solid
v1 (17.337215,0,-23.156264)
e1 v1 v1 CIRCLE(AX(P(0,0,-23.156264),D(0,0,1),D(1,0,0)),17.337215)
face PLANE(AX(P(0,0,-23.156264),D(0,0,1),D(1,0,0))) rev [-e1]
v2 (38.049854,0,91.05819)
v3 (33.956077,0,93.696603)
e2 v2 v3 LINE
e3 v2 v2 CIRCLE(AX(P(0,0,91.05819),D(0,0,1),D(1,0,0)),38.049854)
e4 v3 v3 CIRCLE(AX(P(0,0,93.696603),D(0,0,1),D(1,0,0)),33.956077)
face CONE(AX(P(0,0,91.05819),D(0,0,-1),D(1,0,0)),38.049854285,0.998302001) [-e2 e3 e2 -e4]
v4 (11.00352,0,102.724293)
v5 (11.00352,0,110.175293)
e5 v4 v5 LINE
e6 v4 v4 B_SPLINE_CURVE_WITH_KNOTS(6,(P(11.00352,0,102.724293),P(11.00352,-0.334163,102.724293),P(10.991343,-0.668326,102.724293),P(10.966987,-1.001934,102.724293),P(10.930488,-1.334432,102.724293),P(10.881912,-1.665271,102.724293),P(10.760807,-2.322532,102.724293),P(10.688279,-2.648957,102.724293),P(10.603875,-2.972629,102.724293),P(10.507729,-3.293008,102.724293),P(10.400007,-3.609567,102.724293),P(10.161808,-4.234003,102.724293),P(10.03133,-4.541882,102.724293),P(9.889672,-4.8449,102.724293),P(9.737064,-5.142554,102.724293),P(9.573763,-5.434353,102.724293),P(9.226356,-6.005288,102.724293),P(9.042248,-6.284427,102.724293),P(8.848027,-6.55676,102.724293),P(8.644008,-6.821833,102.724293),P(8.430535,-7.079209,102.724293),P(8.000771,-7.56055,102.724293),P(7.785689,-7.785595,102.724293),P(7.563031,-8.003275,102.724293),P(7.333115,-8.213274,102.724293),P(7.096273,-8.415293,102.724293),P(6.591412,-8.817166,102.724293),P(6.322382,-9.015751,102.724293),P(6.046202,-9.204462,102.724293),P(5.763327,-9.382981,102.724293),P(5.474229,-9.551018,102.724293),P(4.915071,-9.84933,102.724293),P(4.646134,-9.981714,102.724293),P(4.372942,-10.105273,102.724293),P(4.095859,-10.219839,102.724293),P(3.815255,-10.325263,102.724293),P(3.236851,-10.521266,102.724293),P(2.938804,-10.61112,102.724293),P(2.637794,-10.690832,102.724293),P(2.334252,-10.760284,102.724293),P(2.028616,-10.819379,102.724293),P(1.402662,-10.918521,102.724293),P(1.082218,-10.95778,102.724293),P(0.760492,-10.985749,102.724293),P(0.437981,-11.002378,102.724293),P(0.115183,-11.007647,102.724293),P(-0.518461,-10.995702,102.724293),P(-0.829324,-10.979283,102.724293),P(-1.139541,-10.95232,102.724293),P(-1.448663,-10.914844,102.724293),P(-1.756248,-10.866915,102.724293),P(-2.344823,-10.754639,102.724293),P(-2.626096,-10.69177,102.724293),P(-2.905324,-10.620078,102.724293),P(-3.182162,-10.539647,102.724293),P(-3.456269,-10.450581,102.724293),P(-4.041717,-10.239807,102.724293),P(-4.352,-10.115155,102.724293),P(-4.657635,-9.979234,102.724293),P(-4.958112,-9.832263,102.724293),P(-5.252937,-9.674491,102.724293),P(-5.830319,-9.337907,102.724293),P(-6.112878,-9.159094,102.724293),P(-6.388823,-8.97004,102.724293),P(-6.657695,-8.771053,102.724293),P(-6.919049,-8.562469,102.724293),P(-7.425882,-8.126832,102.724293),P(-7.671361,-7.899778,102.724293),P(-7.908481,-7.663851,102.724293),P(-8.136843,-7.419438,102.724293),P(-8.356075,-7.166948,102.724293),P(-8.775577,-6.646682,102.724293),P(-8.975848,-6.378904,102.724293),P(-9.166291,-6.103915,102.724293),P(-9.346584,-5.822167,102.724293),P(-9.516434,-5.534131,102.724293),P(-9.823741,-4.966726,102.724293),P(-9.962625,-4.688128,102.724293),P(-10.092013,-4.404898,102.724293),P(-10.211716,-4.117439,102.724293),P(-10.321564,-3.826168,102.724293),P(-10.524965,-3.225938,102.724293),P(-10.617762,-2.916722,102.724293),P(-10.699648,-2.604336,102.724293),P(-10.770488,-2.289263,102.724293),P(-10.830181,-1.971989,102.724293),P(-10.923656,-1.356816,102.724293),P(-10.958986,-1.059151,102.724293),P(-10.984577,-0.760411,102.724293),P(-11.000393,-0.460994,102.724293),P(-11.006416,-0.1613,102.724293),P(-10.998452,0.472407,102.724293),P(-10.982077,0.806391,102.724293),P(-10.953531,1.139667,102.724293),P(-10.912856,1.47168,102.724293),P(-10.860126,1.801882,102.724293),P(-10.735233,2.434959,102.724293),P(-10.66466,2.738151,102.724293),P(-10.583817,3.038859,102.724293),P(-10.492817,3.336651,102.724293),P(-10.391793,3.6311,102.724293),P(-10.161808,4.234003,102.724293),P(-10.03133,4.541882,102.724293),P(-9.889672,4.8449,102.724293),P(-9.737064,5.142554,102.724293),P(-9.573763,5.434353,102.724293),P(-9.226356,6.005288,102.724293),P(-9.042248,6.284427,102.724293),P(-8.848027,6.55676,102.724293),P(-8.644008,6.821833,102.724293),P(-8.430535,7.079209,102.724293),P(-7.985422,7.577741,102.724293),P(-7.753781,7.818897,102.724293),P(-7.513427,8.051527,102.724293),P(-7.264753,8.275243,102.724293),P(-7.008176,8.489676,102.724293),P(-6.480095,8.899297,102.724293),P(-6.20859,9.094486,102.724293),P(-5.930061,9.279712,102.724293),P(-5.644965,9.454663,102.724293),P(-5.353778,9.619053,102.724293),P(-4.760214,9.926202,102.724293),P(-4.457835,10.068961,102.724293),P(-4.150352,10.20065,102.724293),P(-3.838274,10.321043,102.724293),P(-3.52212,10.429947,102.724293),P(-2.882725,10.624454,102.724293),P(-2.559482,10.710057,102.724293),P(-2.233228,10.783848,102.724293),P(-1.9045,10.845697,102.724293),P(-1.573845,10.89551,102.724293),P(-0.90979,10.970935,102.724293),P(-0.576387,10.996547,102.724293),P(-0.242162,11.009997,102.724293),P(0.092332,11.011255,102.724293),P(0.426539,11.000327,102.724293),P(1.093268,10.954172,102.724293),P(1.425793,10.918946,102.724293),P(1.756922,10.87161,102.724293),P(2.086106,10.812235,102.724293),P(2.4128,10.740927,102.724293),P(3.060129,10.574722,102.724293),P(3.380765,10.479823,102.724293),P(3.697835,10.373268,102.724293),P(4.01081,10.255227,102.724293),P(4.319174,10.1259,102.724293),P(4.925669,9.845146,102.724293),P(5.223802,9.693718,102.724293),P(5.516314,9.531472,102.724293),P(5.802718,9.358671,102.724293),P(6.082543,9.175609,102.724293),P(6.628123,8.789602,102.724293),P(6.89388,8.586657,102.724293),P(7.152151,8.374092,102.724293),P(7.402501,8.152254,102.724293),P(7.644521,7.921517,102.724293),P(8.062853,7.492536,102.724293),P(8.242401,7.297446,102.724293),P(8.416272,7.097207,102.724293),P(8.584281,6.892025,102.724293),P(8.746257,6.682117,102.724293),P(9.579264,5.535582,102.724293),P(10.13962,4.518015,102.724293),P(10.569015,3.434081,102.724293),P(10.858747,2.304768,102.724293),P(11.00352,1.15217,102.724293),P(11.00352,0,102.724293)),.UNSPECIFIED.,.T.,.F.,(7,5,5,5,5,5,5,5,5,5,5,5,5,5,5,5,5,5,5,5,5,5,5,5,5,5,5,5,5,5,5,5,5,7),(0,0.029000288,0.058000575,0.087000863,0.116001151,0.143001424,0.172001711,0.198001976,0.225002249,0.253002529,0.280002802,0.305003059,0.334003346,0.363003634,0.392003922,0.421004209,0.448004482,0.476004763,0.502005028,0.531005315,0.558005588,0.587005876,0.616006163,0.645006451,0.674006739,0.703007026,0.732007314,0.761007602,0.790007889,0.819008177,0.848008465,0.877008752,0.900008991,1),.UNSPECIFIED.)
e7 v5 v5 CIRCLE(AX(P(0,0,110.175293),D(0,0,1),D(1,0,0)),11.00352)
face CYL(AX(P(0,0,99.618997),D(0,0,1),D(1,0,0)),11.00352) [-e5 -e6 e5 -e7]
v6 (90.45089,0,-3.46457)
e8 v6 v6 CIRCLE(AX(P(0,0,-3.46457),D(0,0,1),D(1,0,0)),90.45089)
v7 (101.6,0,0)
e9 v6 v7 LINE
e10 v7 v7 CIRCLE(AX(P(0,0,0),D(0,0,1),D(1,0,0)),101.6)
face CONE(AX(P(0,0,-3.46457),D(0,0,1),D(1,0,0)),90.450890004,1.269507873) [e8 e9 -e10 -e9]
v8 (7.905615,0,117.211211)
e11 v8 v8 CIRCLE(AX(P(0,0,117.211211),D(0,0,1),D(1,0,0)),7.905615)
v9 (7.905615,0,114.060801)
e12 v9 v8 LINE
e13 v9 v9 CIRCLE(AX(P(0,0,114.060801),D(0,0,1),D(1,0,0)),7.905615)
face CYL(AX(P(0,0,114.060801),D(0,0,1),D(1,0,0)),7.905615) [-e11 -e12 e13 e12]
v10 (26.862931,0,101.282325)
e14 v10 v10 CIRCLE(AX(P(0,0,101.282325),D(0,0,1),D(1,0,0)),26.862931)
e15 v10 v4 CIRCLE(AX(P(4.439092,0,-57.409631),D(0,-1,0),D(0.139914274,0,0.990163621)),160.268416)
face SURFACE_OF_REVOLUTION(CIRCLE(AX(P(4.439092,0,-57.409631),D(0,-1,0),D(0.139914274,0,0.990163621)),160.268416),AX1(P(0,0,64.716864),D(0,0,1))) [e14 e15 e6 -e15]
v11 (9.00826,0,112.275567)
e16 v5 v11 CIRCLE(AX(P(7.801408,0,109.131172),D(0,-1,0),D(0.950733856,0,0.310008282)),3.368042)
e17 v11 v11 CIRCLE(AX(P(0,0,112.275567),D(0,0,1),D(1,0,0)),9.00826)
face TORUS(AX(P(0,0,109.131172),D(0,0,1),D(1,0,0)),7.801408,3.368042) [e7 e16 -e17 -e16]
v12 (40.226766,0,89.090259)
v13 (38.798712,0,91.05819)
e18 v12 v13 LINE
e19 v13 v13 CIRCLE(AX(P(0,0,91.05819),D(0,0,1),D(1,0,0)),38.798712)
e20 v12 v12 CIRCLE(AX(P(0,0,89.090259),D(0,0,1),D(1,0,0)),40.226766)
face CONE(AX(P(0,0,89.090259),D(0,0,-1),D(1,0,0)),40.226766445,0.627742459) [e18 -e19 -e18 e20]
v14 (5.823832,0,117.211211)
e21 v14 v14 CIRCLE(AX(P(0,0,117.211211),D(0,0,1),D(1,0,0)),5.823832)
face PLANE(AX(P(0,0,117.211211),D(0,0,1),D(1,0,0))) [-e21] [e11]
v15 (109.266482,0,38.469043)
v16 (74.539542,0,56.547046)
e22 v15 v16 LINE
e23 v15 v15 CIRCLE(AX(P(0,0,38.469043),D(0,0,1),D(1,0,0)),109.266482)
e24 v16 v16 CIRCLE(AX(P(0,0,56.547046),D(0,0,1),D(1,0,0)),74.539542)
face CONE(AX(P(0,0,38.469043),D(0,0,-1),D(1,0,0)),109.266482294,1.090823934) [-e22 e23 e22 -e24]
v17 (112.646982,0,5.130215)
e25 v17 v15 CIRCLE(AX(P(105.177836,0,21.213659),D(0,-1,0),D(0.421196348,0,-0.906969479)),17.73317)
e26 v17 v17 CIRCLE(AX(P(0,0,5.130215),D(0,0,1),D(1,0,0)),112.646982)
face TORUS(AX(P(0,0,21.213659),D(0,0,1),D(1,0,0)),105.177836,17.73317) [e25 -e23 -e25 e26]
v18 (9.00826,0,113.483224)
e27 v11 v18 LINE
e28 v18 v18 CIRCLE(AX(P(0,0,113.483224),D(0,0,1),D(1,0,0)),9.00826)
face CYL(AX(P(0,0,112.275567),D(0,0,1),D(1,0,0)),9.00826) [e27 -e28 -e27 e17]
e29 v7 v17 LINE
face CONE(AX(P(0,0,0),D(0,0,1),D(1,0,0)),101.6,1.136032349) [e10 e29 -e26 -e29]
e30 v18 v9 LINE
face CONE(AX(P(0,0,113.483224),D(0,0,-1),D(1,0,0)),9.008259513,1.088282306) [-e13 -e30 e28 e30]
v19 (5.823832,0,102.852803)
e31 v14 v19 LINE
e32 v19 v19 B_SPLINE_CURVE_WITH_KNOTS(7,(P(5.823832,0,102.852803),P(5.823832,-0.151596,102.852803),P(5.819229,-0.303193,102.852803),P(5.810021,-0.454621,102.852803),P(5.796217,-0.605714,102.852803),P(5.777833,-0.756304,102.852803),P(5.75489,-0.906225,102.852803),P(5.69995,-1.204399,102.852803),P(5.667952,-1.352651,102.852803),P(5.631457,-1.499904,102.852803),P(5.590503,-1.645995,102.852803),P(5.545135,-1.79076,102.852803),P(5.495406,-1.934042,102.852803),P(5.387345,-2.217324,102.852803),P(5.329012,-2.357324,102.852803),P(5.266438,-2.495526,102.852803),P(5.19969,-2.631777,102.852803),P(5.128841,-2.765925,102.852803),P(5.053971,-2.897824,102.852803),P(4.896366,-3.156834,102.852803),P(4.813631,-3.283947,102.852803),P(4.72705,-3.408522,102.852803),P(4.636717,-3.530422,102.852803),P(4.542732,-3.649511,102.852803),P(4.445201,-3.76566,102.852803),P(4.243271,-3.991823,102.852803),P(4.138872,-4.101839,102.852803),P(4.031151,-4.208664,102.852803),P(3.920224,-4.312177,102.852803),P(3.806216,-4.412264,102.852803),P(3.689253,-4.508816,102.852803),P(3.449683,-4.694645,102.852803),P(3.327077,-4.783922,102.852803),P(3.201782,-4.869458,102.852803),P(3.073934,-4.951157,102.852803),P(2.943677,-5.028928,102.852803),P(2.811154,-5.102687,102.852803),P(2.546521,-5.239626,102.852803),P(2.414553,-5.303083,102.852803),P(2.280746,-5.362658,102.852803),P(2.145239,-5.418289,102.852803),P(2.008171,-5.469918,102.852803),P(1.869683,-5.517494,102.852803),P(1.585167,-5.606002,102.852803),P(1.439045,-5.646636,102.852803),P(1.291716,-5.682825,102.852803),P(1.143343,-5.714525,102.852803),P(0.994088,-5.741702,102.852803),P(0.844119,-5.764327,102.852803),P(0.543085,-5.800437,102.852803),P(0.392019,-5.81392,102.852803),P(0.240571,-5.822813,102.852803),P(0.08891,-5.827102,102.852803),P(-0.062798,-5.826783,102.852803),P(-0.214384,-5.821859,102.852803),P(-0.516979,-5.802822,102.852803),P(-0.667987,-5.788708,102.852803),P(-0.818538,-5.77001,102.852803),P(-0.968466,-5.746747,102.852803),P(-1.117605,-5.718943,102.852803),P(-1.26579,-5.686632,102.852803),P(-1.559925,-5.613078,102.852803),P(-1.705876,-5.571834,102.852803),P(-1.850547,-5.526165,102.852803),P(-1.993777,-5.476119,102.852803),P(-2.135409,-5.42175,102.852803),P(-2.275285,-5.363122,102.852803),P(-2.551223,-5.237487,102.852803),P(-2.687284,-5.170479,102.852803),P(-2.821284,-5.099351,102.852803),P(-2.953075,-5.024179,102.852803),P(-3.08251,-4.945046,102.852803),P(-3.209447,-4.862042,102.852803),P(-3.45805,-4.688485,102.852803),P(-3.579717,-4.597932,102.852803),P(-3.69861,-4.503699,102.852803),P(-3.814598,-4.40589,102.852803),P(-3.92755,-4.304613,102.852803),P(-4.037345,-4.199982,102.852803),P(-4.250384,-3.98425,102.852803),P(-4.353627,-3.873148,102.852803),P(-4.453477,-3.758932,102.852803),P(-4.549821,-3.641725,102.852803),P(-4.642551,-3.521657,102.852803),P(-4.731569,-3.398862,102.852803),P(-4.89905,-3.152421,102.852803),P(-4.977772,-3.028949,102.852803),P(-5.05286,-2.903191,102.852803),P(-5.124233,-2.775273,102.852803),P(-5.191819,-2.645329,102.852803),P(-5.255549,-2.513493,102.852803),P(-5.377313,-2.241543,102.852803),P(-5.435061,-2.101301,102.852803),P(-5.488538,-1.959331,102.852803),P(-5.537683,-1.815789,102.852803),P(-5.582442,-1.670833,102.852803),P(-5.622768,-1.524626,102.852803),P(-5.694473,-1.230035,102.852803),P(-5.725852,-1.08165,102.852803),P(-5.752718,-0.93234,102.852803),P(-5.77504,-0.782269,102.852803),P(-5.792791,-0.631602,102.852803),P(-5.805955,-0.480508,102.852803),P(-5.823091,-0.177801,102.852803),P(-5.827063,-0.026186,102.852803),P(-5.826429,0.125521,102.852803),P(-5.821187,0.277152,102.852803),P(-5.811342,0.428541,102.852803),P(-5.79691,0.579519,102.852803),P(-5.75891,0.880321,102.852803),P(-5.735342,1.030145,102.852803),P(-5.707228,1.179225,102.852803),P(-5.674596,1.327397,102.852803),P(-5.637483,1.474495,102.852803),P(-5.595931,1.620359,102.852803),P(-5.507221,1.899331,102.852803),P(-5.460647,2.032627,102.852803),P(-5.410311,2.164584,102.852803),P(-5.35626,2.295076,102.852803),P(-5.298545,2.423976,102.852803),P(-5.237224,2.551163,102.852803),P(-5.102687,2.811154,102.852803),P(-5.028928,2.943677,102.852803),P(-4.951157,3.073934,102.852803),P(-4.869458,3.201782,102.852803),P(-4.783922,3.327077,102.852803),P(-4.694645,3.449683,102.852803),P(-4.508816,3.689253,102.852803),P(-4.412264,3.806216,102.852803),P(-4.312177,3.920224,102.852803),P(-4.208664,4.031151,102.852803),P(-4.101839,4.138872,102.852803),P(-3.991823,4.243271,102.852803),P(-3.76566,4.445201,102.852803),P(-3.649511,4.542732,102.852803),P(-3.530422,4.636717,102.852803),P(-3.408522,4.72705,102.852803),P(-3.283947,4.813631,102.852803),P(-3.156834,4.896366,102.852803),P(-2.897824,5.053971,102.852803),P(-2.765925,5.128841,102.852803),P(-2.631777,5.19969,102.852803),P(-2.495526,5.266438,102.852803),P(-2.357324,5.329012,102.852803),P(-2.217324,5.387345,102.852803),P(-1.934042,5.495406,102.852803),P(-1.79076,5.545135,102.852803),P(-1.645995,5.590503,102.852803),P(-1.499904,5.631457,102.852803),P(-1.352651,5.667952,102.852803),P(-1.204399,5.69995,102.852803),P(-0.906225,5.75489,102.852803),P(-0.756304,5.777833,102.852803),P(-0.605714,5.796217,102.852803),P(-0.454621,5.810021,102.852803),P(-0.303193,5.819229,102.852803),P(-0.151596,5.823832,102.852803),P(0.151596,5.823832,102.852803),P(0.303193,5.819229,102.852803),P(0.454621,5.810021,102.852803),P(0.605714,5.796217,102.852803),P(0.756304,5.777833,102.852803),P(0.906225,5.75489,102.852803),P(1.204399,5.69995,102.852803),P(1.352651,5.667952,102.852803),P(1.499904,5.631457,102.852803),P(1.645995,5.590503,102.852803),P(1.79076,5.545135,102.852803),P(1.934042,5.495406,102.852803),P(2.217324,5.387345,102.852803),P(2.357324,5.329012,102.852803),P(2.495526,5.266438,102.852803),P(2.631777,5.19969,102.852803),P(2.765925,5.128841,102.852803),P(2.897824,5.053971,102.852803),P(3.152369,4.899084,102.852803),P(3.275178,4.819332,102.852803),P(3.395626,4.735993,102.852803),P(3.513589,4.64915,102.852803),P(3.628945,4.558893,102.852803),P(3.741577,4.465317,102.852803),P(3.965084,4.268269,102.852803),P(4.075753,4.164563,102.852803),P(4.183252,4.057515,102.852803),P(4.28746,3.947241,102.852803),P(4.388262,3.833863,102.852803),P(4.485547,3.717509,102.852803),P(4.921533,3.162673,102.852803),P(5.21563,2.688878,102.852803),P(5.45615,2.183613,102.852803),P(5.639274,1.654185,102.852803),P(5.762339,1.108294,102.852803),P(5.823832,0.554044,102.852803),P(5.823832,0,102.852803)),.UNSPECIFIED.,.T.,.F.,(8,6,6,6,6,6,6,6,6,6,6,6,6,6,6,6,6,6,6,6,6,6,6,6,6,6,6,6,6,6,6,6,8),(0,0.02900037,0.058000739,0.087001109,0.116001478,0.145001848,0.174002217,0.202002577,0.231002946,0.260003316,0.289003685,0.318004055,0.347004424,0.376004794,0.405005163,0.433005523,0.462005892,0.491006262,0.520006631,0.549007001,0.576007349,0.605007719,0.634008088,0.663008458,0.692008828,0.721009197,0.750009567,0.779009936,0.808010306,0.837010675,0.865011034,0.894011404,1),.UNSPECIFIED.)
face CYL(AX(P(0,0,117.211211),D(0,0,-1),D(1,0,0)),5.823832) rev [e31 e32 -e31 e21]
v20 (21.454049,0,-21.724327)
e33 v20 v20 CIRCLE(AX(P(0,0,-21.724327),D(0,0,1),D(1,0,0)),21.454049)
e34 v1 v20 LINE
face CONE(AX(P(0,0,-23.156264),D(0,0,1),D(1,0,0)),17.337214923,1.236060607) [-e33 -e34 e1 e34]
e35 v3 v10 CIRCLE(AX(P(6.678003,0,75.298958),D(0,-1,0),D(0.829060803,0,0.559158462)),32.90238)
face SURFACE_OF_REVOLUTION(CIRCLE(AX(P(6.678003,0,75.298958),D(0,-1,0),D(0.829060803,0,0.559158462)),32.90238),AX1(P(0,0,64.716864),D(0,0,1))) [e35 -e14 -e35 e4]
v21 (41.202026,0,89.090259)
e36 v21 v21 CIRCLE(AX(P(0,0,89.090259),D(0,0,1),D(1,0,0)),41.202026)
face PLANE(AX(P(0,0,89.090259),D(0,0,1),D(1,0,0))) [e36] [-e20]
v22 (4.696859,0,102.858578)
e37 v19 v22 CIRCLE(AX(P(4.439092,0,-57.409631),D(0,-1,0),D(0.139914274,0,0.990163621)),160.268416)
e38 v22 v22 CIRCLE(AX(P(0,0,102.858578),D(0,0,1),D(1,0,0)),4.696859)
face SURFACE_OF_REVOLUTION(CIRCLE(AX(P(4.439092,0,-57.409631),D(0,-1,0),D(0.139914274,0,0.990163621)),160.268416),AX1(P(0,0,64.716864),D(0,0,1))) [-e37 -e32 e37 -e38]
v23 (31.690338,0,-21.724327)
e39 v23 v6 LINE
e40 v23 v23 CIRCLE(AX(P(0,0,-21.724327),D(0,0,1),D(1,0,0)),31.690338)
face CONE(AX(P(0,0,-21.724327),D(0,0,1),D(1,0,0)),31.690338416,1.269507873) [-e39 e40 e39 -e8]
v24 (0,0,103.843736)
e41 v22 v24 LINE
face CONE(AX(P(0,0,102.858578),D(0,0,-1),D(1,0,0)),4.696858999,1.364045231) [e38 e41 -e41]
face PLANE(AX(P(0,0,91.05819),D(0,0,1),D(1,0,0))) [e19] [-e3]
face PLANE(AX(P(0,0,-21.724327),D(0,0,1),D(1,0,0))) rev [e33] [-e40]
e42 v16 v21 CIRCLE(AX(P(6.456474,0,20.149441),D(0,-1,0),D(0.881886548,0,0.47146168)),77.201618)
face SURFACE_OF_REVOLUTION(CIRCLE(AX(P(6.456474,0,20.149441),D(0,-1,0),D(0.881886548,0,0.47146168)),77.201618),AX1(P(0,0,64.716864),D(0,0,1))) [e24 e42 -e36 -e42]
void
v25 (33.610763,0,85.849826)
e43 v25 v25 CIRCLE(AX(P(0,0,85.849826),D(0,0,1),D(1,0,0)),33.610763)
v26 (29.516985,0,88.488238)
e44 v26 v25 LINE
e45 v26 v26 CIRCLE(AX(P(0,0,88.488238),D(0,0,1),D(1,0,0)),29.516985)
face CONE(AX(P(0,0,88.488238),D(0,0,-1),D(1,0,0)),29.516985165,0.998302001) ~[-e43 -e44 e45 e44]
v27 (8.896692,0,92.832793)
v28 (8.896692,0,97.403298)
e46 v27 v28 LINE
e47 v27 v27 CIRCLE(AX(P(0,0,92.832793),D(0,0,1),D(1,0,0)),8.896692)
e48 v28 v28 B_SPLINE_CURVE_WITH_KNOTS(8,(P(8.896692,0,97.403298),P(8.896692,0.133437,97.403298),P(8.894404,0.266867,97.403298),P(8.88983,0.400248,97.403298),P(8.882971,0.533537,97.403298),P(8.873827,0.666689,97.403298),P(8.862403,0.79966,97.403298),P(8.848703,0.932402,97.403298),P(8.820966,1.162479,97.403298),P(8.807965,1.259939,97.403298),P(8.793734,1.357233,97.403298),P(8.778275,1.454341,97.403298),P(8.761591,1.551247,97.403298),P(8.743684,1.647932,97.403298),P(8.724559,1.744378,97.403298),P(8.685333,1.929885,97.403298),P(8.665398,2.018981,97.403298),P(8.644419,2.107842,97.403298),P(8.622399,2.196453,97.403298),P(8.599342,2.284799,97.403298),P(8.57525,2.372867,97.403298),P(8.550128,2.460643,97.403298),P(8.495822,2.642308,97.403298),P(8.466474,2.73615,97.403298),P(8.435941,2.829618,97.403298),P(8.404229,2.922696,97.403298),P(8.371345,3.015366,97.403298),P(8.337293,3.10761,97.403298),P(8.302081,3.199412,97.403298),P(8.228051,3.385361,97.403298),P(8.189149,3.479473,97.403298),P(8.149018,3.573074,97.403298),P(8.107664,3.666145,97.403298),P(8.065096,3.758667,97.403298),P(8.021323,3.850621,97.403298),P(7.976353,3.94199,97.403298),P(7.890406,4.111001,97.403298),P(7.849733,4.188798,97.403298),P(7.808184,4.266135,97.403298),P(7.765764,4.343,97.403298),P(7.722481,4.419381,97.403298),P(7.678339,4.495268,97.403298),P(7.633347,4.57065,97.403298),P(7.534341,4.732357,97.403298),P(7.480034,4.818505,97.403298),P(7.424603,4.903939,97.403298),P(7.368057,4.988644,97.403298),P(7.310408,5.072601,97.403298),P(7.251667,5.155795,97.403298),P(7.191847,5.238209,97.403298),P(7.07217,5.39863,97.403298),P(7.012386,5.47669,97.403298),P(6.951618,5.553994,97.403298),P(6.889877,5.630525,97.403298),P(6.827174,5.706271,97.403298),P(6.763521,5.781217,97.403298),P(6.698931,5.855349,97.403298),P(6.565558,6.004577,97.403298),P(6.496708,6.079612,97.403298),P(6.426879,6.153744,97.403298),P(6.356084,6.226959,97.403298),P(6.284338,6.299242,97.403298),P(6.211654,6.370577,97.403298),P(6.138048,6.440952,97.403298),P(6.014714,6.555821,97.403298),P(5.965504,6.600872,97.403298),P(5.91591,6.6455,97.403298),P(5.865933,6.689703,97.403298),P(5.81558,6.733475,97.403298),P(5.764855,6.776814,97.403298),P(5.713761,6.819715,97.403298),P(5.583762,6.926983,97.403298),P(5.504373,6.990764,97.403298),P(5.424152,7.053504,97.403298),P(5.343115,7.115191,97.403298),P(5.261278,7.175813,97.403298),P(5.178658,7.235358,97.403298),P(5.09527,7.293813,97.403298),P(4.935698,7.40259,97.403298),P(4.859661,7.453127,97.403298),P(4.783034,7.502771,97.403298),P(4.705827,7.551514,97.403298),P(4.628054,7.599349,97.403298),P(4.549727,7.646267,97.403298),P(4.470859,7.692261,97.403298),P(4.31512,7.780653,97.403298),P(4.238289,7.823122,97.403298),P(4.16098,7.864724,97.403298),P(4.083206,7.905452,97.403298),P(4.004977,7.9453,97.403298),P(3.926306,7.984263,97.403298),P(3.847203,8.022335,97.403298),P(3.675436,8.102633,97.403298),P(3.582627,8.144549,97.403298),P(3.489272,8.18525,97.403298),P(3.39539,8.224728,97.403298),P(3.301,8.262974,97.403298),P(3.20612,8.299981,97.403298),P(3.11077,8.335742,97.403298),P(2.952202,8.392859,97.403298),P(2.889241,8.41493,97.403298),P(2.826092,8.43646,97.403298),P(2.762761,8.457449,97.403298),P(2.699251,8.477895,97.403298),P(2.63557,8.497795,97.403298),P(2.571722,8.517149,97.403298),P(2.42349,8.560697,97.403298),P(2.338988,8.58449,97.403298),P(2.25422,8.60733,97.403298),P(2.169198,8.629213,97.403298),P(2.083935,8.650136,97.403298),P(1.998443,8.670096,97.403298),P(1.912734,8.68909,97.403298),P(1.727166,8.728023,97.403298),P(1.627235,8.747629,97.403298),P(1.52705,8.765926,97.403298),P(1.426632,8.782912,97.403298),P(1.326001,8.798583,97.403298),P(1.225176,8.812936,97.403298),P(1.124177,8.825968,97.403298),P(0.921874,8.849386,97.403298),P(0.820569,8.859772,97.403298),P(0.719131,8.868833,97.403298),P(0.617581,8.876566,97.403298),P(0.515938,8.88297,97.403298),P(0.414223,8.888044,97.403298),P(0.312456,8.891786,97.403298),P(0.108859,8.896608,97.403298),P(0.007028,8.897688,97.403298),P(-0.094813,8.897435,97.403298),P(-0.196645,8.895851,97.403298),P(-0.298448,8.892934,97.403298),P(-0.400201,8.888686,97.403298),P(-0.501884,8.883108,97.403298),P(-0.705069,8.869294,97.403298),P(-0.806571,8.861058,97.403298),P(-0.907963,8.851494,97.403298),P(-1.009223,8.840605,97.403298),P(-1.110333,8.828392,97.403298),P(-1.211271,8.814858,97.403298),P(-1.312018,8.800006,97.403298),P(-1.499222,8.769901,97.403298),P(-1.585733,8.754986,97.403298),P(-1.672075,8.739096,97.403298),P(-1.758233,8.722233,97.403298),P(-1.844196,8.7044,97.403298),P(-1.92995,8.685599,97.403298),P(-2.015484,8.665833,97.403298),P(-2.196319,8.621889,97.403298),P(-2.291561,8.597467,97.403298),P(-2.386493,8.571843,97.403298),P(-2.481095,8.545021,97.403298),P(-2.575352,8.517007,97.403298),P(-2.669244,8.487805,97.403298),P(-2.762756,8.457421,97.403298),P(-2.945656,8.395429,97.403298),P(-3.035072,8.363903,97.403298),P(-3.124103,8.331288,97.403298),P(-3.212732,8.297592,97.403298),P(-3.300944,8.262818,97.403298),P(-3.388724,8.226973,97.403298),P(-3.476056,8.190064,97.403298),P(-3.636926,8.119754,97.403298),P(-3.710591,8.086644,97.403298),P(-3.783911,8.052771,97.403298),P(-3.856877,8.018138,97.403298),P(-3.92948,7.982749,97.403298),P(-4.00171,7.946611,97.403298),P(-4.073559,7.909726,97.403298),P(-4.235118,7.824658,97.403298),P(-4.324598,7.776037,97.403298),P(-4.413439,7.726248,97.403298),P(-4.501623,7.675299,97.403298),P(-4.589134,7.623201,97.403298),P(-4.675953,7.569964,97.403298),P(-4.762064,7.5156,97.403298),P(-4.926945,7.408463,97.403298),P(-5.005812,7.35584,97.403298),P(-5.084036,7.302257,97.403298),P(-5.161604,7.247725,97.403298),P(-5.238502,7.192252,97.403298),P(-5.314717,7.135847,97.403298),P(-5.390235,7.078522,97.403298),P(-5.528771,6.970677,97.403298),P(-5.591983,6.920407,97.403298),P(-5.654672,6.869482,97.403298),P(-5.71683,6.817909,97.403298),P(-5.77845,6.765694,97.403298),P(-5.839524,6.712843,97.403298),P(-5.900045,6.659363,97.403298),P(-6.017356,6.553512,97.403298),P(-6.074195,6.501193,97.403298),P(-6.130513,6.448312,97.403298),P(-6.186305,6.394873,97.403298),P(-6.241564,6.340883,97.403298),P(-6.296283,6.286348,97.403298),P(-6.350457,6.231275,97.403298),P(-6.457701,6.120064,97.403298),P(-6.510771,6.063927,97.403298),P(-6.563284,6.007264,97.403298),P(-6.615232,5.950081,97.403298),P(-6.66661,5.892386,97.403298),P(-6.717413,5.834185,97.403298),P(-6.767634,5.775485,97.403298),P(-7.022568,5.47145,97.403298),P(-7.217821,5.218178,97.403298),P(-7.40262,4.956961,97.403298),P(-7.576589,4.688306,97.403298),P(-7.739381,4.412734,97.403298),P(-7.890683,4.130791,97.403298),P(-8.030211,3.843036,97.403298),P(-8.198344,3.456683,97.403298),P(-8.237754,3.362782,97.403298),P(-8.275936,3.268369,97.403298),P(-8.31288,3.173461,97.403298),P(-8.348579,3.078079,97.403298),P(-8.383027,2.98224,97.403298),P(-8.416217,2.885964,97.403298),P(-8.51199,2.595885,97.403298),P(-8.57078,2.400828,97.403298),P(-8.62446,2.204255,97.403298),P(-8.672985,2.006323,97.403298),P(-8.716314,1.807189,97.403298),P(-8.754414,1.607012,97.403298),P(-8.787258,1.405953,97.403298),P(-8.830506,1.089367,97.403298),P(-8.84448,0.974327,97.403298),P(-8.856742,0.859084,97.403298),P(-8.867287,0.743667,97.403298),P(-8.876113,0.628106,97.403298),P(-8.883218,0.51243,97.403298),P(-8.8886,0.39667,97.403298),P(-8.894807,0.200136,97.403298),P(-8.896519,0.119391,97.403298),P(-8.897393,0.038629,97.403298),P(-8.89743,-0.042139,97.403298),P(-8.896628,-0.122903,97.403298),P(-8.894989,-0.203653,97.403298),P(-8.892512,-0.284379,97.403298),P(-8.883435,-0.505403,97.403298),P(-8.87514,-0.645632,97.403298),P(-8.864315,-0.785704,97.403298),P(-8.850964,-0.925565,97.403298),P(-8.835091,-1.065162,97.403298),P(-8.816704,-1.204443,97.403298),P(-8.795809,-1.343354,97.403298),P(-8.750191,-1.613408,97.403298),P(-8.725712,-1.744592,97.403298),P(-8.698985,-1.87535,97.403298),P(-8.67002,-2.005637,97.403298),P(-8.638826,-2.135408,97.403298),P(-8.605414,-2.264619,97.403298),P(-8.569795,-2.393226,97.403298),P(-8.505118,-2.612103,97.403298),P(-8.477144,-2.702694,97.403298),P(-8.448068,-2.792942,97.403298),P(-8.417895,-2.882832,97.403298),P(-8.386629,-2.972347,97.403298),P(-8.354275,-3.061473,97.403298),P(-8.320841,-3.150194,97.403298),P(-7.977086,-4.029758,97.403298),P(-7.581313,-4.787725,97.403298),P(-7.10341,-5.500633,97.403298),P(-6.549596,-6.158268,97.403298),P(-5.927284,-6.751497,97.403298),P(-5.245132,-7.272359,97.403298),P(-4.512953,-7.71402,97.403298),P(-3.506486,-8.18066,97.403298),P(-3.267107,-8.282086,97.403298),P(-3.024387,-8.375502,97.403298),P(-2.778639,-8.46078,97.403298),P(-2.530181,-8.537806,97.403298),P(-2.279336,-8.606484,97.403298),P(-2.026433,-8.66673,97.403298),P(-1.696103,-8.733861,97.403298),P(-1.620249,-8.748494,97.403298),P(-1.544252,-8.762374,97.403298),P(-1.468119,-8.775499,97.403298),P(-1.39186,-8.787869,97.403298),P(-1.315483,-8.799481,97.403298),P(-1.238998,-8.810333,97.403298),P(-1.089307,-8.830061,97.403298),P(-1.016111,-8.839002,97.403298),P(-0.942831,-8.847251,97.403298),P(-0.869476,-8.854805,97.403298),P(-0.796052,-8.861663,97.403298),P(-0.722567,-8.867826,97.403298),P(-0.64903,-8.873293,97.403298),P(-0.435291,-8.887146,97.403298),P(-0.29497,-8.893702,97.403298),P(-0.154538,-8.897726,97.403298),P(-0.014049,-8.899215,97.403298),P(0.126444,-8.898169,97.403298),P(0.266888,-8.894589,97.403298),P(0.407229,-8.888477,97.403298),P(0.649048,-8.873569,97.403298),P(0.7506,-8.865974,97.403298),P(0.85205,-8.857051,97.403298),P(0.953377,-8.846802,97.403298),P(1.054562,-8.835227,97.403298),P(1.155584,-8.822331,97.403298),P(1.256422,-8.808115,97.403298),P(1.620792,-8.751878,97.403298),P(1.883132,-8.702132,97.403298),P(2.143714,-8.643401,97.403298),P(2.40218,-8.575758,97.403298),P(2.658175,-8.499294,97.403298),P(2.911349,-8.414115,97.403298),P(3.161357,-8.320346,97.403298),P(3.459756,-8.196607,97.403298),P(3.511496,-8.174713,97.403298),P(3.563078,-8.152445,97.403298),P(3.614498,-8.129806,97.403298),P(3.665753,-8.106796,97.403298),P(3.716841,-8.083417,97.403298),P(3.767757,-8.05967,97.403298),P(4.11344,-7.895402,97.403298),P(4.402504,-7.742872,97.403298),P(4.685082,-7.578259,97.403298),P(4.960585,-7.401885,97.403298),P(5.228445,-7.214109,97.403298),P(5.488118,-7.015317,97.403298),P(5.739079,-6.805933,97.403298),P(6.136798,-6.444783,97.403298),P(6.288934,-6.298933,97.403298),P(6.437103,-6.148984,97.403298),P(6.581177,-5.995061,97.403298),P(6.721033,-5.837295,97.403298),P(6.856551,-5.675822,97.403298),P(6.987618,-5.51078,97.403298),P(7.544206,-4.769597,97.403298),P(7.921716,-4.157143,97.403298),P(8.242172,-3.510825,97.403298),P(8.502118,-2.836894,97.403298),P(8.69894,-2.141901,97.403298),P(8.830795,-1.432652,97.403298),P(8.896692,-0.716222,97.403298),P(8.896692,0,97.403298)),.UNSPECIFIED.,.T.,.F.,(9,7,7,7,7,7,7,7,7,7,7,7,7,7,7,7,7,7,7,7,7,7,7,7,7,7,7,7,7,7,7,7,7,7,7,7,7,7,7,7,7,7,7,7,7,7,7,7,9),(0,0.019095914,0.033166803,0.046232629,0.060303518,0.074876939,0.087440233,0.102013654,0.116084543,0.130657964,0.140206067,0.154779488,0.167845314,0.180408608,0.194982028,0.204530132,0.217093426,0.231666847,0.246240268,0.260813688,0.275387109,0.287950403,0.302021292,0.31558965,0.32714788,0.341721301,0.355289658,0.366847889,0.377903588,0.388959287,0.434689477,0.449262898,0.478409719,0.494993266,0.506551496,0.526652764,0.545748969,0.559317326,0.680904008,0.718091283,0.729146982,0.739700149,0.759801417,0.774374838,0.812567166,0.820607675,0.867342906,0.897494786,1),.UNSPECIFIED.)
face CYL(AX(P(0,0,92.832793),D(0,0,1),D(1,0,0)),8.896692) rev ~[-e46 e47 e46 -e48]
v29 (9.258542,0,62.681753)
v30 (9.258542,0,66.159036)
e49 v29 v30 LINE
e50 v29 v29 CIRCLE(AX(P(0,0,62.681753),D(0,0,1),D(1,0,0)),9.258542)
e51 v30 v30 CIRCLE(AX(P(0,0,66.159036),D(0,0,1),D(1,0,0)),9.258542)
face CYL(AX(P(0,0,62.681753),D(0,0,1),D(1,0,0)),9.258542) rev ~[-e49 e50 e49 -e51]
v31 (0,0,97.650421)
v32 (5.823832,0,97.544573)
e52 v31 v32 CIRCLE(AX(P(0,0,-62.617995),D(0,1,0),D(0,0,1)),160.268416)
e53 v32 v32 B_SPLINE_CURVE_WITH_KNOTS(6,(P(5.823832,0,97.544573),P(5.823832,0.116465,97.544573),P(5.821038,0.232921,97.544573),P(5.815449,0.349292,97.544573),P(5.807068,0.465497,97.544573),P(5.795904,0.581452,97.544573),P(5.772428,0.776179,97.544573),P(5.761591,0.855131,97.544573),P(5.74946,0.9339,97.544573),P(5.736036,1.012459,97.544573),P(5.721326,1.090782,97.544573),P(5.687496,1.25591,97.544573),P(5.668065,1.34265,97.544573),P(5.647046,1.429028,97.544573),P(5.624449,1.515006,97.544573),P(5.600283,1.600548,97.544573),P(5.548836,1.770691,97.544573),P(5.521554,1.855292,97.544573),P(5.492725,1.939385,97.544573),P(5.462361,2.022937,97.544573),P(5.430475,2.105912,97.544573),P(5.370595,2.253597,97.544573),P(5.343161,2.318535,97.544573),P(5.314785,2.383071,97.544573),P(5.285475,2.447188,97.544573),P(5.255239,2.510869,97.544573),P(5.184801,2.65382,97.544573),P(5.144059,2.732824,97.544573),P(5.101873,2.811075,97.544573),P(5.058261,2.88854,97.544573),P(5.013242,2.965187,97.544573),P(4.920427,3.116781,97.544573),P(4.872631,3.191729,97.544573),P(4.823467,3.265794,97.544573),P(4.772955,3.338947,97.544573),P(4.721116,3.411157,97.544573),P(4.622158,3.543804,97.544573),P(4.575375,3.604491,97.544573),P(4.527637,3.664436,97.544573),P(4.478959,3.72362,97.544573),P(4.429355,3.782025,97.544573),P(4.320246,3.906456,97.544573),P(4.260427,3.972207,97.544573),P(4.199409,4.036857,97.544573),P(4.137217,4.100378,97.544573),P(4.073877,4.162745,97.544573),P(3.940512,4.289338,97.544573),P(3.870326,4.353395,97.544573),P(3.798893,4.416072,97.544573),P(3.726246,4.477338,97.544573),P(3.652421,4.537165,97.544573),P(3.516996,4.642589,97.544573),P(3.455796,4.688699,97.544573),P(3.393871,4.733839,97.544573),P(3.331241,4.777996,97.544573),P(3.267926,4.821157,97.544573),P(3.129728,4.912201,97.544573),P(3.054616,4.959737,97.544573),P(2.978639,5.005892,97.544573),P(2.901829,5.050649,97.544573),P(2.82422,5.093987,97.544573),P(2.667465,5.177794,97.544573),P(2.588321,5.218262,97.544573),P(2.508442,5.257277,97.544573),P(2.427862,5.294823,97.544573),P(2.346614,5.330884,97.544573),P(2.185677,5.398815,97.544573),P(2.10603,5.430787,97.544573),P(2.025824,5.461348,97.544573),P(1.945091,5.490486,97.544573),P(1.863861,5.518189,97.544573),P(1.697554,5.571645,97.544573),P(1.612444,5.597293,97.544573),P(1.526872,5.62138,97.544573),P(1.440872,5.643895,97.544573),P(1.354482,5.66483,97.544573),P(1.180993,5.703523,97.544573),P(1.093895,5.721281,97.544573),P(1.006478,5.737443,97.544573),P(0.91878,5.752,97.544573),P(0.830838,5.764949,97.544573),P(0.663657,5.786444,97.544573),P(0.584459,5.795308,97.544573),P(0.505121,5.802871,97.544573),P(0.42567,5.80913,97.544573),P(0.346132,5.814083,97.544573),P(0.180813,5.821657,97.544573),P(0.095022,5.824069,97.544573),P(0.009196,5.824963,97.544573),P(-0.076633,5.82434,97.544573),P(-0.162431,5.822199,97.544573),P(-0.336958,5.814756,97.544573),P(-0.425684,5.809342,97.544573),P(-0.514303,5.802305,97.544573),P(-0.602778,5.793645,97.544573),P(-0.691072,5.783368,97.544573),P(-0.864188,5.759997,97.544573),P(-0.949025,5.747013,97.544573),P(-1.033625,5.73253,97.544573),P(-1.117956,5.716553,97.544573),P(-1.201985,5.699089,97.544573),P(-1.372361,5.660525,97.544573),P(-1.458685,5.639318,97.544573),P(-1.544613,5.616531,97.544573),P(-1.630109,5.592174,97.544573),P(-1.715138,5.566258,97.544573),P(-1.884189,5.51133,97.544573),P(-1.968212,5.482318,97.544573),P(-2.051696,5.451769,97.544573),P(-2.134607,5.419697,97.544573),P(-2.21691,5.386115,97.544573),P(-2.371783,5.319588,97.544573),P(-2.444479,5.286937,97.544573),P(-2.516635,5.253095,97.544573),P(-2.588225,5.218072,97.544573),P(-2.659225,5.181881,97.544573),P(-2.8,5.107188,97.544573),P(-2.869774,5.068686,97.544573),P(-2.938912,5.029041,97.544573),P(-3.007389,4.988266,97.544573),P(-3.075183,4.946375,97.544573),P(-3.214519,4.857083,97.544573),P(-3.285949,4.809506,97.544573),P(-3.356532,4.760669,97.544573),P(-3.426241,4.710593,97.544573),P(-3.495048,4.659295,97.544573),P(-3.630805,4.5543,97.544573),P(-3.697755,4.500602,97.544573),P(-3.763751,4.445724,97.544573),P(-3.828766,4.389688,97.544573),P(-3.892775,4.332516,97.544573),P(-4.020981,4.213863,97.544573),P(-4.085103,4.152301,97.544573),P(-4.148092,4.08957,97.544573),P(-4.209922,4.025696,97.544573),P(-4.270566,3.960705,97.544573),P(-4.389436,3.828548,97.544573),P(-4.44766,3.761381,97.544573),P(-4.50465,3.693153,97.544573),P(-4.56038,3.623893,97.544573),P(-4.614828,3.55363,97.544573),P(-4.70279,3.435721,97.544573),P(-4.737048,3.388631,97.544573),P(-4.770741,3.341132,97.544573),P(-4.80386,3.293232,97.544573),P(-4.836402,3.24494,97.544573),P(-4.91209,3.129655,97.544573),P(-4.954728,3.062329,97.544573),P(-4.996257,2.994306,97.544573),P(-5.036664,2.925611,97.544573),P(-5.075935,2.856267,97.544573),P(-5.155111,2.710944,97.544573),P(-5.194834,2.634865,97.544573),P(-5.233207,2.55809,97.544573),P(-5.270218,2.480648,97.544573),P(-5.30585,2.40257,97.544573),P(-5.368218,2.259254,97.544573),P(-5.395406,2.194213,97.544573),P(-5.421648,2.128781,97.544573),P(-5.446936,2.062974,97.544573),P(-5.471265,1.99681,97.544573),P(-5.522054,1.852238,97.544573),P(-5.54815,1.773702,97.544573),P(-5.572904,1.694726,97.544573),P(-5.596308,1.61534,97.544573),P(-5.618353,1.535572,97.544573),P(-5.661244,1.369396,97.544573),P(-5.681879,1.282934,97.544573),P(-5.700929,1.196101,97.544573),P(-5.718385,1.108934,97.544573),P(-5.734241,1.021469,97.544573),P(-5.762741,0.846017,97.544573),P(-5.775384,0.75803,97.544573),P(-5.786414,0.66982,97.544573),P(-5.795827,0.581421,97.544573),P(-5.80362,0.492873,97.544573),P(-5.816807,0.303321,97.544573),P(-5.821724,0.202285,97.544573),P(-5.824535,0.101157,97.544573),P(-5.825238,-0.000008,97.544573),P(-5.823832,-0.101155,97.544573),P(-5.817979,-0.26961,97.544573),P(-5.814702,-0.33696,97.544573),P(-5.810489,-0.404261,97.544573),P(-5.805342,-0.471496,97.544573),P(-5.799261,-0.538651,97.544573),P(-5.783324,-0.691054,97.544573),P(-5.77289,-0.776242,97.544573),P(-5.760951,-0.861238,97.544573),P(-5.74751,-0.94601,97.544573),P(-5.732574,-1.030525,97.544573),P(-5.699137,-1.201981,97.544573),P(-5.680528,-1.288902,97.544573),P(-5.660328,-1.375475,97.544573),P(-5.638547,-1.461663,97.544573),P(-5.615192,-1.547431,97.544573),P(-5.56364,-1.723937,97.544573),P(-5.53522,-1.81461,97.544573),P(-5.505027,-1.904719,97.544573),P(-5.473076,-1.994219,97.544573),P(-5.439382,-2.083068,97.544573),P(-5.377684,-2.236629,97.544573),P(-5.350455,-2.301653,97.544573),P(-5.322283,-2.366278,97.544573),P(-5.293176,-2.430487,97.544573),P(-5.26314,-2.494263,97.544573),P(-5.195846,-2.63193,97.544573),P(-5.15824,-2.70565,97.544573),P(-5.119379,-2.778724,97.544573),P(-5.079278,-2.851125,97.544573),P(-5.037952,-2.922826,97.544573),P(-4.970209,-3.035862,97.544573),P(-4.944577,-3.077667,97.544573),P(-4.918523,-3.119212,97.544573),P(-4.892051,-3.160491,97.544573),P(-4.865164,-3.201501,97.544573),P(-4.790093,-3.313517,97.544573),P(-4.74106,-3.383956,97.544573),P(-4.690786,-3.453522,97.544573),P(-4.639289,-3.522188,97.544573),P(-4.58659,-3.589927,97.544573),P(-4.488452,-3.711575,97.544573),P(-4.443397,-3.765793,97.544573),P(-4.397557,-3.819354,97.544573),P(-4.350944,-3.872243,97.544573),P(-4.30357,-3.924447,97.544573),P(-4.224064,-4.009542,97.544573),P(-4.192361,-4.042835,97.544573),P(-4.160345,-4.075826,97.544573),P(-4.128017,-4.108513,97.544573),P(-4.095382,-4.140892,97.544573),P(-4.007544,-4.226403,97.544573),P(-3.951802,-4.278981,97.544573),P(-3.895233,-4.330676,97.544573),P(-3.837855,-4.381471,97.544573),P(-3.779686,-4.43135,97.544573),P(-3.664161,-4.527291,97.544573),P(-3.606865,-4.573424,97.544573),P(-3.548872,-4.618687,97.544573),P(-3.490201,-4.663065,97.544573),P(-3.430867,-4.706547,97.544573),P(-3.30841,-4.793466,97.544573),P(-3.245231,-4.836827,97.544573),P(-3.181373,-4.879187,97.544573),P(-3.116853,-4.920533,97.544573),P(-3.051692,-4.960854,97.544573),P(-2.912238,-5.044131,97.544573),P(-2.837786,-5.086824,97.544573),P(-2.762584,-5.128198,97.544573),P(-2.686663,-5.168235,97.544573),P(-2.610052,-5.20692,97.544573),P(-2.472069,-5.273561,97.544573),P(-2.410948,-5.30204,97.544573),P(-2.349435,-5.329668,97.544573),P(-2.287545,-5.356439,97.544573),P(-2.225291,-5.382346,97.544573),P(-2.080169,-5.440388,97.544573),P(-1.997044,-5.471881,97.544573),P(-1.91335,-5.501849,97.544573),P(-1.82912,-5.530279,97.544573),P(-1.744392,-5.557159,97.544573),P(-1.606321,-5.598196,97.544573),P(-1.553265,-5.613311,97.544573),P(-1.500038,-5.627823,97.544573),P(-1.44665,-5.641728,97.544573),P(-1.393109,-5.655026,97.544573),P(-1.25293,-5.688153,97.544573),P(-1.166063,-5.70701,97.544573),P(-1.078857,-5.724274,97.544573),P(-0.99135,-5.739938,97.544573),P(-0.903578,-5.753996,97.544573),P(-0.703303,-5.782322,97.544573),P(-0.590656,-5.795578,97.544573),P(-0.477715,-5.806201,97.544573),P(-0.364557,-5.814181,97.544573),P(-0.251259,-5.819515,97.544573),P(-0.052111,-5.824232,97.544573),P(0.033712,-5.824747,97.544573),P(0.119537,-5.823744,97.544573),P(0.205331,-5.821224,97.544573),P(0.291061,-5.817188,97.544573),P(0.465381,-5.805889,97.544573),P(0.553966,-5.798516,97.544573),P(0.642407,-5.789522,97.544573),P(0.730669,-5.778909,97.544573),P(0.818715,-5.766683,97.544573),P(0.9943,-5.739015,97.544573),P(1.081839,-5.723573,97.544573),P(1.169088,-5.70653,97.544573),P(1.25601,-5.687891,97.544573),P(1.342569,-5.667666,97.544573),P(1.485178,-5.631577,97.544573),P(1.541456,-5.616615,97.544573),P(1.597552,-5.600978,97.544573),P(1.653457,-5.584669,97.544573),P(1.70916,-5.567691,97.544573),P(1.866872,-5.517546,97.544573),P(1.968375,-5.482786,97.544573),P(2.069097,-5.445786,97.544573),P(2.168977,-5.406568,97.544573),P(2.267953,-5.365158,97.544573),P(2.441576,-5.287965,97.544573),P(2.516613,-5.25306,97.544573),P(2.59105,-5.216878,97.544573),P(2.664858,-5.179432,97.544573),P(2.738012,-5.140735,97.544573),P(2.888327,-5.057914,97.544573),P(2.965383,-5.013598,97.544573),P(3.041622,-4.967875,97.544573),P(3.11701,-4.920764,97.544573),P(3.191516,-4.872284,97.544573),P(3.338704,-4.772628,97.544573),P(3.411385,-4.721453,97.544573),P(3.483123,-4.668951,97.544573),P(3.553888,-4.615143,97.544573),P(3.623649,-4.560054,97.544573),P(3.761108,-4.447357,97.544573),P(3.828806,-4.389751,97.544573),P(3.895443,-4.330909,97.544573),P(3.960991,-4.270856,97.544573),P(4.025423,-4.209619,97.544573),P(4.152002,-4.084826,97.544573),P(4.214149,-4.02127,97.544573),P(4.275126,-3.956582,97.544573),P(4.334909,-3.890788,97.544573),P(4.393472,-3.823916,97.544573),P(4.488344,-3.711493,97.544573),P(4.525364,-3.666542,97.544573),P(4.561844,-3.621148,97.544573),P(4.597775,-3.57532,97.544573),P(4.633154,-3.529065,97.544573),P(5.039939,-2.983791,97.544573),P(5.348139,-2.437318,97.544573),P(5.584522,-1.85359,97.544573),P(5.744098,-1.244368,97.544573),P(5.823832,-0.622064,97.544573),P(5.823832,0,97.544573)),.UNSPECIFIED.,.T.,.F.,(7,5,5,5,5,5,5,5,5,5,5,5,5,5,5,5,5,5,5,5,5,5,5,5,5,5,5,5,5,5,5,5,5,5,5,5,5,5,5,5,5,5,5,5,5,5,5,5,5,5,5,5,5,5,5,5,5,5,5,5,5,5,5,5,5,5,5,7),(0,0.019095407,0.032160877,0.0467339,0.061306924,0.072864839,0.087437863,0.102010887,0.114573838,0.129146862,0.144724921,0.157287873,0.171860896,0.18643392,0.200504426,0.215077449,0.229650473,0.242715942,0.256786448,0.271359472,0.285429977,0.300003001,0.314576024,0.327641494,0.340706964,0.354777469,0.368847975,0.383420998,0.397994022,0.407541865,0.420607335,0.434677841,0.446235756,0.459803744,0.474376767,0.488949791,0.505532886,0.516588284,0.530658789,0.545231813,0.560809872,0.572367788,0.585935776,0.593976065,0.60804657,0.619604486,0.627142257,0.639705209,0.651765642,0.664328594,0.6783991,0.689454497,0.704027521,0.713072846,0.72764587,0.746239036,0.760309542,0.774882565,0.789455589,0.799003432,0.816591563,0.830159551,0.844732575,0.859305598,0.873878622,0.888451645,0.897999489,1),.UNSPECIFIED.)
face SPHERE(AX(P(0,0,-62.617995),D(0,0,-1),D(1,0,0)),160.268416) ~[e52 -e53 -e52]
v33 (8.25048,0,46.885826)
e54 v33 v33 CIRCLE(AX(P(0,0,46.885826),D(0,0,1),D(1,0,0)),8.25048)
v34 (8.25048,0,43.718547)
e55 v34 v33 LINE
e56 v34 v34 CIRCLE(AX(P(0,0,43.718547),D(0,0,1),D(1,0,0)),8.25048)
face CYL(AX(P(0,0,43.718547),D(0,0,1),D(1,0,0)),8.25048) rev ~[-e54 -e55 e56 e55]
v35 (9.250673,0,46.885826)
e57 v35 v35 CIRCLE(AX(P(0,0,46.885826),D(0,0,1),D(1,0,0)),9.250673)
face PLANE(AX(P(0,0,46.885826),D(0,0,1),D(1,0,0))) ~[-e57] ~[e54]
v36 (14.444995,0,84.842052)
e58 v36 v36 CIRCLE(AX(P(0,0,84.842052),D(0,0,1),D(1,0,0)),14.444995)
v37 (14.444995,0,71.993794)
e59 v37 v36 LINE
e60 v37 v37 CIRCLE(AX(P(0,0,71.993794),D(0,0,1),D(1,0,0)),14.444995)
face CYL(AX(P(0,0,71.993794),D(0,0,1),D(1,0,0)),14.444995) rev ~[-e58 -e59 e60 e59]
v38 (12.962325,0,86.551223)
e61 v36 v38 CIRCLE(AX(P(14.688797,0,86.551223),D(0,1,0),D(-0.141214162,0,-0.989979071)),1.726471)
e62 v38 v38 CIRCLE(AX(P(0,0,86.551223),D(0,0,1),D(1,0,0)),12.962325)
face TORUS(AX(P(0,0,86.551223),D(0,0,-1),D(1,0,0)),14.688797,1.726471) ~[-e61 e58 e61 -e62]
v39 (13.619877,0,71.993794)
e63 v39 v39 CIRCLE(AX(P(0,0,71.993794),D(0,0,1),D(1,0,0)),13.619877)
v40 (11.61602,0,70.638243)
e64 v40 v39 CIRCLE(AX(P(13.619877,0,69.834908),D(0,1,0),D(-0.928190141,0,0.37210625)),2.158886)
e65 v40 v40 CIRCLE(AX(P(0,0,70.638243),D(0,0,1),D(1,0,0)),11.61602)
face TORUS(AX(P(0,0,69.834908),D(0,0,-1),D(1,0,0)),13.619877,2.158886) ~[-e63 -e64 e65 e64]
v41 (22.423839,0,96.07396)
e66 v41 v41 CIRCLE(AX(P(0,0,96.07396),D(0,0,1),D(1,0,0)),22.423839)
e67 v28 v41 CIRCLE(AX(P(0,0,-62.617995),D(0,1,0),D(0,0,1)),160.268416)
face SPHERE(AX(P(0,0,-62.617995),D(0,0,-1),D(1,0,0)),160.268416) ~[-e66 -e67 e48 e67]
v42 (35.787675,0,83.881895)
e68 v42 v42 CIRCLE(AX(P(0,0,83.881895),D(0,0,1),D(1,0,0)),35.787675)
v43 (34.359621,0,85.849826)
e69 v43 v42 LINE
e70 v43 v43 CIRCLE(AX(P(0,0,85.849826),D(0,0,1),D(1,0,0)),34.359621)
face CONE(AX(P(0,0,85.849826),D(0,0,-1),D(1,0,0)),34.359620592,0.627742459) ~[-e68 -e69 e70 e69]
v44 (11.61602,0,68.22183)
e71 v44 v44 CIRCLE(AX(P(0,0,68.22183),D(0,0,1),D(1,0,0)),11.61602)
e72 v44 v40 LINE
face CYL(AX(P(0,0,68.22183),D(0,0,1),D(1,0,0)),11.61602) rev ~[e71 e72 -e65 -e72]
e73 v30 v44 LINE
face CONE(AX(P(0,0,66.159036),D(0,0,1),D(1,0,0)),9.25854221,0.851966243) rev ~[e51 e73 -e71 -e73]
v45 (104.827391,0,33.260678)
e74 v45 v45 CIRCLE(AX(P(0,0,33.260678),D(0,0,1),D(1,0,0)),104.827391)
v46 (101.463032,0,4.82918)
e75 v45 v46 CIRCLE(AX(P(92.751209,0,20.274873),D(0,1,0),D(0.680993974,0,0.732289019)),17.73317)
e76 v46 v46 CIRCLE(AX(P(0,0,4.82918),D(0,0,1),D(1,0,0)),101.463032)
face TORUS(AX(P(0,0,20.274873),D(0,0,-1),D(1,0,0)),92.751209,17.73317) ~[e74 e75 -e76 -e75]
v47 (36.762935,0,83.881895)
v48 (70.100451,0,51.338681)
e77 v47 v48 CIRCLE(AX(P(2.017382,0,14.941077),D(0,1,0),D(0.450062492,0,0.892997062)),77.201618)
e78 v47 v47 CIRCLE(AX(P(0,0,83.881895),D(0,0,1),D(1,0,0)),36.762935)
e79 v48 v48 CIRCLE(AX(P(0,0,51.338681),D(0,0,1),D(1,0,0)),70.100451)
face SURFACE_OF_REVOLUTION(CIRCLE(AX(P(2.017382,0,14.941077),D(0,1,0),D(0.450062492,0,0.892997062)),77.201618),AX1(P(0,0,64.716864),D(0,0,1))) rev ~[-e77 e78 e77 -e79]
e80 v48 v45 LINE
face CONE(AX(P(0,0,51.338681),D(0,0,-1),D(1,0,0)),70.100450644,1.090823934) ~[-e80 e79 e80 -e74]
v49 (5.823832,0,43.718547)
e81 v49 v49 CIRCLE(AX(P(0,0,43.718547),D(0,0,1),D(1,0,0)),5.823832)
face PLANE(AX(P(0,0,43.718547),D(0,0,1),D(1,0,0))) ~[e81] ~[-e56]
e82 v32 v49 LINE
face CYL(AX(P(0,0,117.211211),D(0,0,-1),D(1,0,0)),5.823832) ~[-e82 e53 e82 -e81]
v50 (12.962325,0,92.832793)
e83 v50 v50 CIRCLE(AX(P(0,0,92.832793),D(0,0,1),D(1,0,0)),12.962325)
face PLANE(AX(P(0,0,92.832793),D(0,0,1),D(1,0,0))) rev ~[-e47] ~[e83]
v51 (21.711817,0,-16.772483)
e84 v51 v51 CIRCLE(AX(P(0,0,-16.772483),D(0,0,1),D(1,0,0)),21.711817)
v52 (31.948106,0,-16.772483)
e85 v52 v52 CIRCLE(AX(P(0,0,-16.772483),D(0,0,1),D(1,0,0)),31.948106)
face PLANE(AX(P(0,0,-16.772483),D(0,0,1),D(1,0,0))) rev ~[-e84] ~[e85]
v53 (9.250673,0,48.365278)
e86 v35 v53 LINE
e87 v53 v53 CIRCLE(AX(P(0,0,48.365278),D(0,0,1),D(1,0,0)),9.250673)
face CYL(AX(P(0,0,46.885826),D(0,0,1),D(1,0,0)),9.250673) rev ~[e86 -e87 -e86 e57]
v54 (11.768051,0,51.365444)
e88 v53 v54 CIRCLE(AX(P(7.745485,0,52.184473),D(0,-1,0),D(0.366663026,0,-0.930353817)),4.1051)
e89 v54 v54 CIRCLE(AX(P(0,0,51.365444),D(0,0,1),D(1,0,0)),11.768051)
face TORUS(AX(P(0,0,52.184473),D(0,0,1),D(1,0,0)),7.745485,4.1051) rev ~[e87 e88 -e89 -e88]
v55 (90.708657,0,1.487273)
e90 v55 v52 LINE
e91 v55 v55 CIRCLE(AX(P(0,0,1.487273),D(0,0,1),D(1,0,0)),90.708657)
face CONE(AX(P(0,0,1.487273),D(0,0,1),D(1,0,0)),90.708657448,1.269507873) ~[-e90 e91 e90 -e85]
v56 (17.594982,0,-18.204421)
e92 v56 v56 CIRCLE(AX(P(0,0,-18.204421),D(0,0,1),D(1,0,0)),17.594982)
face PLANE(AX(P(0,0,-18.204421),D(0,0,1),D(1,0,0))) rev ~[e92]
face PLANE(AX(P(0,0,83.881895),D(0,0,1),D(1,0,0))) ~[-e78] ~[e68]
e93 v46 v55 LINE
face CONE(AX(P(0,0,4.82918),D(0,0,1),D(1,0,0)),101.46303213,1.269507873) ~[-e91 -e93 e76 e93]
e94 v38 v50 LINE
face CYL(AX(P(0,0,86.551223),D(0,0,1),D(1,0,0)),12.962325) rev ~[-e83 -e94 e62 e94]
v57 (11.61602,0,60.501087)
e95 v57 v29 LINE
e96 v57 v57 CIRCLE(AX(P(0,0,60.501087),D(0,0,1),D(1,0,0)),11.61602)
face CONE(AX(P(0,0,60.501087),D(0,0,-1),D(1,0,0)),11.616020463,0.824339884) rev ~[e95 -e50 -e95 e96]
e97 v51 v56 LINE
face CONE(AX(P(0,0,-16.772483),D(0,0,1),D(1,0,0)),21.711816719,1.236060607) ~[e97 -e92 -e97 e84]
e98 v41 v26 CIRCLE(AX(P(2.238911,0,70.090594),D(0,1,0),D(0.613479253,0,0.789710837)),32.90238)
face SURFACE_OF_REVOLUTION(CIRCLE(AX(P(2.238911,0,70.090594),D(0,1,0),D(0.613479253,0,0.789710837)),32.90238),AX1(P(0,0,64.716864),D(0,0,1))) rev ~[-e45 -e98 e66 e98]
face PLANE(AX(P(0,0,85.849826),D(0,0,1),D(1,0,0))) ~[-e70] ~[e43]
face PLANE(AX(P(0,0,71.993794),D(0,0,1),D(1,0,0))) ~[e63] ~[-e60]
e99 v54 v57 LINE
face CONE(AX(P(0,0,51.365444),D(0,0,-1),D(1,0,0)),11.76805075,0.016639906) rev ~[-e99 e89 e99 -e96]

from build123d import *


with BuildPart() as f2:
    # F1 (on Front) → F2 (revolve)
    with BuildSketch(Plane.XZ):
        with BuildLine():
            Line((7.9056154937, 114.0608005226), (7.9056154937, 117.2112114727))
            Line((7.9056154937, 117.2112114727), (5.8238324709, 117.2112114727))
            Line((5.8238324709, 117.2112114727), (5.8238324709, 43.718546629))
            Line((5.8238324709, 43.718546629), (8.2504795864, 43.718546629))
            Line((8.2504795864, 43.718546629), (8.2504795864, 46.8858256936))
            Line((8.2504795864, 46.8858256936), (9.2506734654, 46.8858256936))
            Line((9.2506734654, 46.8858256936), (9.2506734654, 48.3652781695))
            ThreePointArc((9.2506734654, 48.3652781695), (10.8902051996, 49.5458033174), (11.7680507496, 51.3654437001))
            Line((11.7680507496, 51.3654437001), (11.6160204634, 60.5010874569))
            Line((11.6160204634, 60.5010874569), (9.2585422099, 62.6817531884))
            Line((9.2585422099, 62.6817531884), (9.2585422099, 66.1590360105))
            Line((9.2585422099, 66.1590360105), (11.6160204634, 68.2218298316))
            Line((11.6160204634, 68.2218298316), (11.6160204634, 70.638243109))
            ThreePointArc((11.6160204634, 70.638243109), (12.4102326542, 71.6230773393), (13.619877398, 71.9937942922))
            Line((13.619877398, 71.9937942922), (14.4449947402, 71.9937942922))
            Line((14.4449947402, 71.9937942922), (14.4449947402, 84.8420523107))
            ThreePointArc((14.4449947402, 84.8420523107), (13.3846456333, 85.4198993425), (12.9623254761, 86.5512229502))
            Line((12.9623254761, 86.5512229502), (12.9623254761, 92.8327925503))
            Line((12.9623254761, 92.8327925503), (8.8966917247, 92.8327925503))
            Line((8.8966917247, 92.8327925503), (8.8966917247, 98.2634462416))
            Line((8.8966917247, 98.2634462416), (9.9428221583, 98.9412181079))
            Line((9.9428221583, 98.9412181079), (11.0035203397, 99.6189974248))
            Line((11.0035203397, 99.6189974248), (11.0035203397, 104.1866131127))
            Line((11.0035203397, 104.1866131127), (11.0035203397, 110.1752929389))
            ThreePointArc((11.0035203397, 110.1752929389), (10.2432369143, 111.4509096243), (9.0082595125, 112.2755669057))
            Line((9.0082595125, 112.2755669057), (9.0082595125, 113.4832240641))
            Line((9.0082595125, 113.4832240641), (7.9056154937, 114.0608005226))
        make_face()
    revolve(axis=Axis((0, 0, 64.7168642), (0, 0, 1)))

    # F0 (on Front) → F3 (revolve)
    with BuildSketch(Plane.XZ):
        with BuildLine():
            Line((4.6968589988, 102.8585781329), (0, 103.8437362364))
            Line((0, 103.8437362364), (0, 98.6355793162))
            Line((0, 98.6355793162), (0, 97.6504212126))
            ThreePointArc((0, 97.6504212126), (11.2395927965, 97.2558202073), (22.4238390098, 96.0739603061))
            ThreePointArc((22.4238390098, 96.0739603061), (26.2715957936, 92.5627257936), (29.5169851646, 88.4882383534))
            Line((29.5169851646, 88.4882383534), (33.6107627305, 85.8498261778))
            Line((33.6107627305, 85.8498261778), (34.3596205916, 85.8498261778))
            Line((34.3596205916, 85.8498261778), (35.7876748905, 83.8818950341))
            Line((35.7876748905, 83.8818950341), (36.7629348181, 83.8818950341))
            ThreePointArc((36.7629348181, 83.8818950341), (55.9450792981, 70.1850206094), (70.1004506436, 51.3386814974))
            Line((70.1004506436, 51.3386814974), (104.8273907391, 33.2606784187))
            ThreePointArc((104.8273907391, 33.2606784187), (110.3615133271, 18.1910089649), (101.4630321296, 4.8291796498))
            Line((101.4630321296, 4.8291796498), (90.7086574482, 1.4872732241))
            Line((90.7086574482, 1.4872732241), (31.9481058598, -16.7724834563))
            Line((31.9481058598, -16.7724834563), (21.7118167186, -16.7724834563))
            Line((21.7118167186, -16.7724834563), (17.5949823675, -18.2044206838))
            Line((17.5949823675, -18.2044206838), (0, -18.2044206838))
            Line((0, -18.2044206838), (0, -23.1562637636))
            Line((0, -23.1562637636), (17.3372149233, -23.1562637636))
            Line((17.3372149233, -23.1562637636), (21.4540492743, -21.7243265361))
            Line((21.4540492743, -21.7243265361), (31.6903384155, -21.7243265361))
            Line((31.6903384155, -21.7243265361), (90.450890004, -3.4645698556))
            Line((90.450890004, -3.4645698556), (101.6, 0))
            Line((101.6, 0), (112.6469820738, 5.1302150823))
            ThreePointArc((112.6469820738, 5.1302150823), (122.8205396431, 23.0025985298), (109.2664822936, 38.469042629))
            Line((109.2664822936, 38.469042629), (74.5395421982, 56.5470457077))
            ThreePointArc((74.5395421982, 56.5470457077), (60.3841708526, 75.3933848197), (41.2020263726, 89.0902592444))
            Line((41.2020263726, 89.0902592444), (40.2267664451, 89.0902592444))
            Line((40.2267664451, 89.0902592444), (38.7987121462, 91.0581903881))
            Line((38.7987121462, 91.0581903881), (38.0498542851, 91.0581903881))
            Line((38.0498542851, 91.0581903881), (33.9560767191, 93.6966025637))
            ThreePointArc((33.9560767191, 93.6966025637), (30.7106873481, 97.7710900039), (26.8629305643, 101.2823245164))
            ThreePointArc((26.8629305643, 101.2823245164), (15.8072471525, 102.4550941295), (4.6968589988, 102.8585781329))
        make_face()
        with BuildLine():
            ThreePointArc((100.2203553684, 4.1914294146), (100.8479753185, 4.4980646929), (101.4630321296, 4.8291796498))
            Line((101.4630321296, 4.8291796498), (101.8577674443, 4.9518430797))
            Line((101.8577674443, 4.9518430797), (100.2203553684, 4.1914294146))
        make_face(mode=Mode.SUBTRACT)
        with BuildLine():
            Line((101.8577674443, 4.9518430797), (101.4630321296, 4.8291796498))
            ThreePointArc((101.4630321296, 4.8291796498), (100.8479753185, 4.4980646929), (100.2203553684, 4.1914294146))
            Line((100.2203553684, 4.1914294146), (101.8577674443, 4.9518430797))
        make_face()
    revolve(axis=Axis((0, 0, 64.7168642), (0, 0, 1)))


solid = f2.part
